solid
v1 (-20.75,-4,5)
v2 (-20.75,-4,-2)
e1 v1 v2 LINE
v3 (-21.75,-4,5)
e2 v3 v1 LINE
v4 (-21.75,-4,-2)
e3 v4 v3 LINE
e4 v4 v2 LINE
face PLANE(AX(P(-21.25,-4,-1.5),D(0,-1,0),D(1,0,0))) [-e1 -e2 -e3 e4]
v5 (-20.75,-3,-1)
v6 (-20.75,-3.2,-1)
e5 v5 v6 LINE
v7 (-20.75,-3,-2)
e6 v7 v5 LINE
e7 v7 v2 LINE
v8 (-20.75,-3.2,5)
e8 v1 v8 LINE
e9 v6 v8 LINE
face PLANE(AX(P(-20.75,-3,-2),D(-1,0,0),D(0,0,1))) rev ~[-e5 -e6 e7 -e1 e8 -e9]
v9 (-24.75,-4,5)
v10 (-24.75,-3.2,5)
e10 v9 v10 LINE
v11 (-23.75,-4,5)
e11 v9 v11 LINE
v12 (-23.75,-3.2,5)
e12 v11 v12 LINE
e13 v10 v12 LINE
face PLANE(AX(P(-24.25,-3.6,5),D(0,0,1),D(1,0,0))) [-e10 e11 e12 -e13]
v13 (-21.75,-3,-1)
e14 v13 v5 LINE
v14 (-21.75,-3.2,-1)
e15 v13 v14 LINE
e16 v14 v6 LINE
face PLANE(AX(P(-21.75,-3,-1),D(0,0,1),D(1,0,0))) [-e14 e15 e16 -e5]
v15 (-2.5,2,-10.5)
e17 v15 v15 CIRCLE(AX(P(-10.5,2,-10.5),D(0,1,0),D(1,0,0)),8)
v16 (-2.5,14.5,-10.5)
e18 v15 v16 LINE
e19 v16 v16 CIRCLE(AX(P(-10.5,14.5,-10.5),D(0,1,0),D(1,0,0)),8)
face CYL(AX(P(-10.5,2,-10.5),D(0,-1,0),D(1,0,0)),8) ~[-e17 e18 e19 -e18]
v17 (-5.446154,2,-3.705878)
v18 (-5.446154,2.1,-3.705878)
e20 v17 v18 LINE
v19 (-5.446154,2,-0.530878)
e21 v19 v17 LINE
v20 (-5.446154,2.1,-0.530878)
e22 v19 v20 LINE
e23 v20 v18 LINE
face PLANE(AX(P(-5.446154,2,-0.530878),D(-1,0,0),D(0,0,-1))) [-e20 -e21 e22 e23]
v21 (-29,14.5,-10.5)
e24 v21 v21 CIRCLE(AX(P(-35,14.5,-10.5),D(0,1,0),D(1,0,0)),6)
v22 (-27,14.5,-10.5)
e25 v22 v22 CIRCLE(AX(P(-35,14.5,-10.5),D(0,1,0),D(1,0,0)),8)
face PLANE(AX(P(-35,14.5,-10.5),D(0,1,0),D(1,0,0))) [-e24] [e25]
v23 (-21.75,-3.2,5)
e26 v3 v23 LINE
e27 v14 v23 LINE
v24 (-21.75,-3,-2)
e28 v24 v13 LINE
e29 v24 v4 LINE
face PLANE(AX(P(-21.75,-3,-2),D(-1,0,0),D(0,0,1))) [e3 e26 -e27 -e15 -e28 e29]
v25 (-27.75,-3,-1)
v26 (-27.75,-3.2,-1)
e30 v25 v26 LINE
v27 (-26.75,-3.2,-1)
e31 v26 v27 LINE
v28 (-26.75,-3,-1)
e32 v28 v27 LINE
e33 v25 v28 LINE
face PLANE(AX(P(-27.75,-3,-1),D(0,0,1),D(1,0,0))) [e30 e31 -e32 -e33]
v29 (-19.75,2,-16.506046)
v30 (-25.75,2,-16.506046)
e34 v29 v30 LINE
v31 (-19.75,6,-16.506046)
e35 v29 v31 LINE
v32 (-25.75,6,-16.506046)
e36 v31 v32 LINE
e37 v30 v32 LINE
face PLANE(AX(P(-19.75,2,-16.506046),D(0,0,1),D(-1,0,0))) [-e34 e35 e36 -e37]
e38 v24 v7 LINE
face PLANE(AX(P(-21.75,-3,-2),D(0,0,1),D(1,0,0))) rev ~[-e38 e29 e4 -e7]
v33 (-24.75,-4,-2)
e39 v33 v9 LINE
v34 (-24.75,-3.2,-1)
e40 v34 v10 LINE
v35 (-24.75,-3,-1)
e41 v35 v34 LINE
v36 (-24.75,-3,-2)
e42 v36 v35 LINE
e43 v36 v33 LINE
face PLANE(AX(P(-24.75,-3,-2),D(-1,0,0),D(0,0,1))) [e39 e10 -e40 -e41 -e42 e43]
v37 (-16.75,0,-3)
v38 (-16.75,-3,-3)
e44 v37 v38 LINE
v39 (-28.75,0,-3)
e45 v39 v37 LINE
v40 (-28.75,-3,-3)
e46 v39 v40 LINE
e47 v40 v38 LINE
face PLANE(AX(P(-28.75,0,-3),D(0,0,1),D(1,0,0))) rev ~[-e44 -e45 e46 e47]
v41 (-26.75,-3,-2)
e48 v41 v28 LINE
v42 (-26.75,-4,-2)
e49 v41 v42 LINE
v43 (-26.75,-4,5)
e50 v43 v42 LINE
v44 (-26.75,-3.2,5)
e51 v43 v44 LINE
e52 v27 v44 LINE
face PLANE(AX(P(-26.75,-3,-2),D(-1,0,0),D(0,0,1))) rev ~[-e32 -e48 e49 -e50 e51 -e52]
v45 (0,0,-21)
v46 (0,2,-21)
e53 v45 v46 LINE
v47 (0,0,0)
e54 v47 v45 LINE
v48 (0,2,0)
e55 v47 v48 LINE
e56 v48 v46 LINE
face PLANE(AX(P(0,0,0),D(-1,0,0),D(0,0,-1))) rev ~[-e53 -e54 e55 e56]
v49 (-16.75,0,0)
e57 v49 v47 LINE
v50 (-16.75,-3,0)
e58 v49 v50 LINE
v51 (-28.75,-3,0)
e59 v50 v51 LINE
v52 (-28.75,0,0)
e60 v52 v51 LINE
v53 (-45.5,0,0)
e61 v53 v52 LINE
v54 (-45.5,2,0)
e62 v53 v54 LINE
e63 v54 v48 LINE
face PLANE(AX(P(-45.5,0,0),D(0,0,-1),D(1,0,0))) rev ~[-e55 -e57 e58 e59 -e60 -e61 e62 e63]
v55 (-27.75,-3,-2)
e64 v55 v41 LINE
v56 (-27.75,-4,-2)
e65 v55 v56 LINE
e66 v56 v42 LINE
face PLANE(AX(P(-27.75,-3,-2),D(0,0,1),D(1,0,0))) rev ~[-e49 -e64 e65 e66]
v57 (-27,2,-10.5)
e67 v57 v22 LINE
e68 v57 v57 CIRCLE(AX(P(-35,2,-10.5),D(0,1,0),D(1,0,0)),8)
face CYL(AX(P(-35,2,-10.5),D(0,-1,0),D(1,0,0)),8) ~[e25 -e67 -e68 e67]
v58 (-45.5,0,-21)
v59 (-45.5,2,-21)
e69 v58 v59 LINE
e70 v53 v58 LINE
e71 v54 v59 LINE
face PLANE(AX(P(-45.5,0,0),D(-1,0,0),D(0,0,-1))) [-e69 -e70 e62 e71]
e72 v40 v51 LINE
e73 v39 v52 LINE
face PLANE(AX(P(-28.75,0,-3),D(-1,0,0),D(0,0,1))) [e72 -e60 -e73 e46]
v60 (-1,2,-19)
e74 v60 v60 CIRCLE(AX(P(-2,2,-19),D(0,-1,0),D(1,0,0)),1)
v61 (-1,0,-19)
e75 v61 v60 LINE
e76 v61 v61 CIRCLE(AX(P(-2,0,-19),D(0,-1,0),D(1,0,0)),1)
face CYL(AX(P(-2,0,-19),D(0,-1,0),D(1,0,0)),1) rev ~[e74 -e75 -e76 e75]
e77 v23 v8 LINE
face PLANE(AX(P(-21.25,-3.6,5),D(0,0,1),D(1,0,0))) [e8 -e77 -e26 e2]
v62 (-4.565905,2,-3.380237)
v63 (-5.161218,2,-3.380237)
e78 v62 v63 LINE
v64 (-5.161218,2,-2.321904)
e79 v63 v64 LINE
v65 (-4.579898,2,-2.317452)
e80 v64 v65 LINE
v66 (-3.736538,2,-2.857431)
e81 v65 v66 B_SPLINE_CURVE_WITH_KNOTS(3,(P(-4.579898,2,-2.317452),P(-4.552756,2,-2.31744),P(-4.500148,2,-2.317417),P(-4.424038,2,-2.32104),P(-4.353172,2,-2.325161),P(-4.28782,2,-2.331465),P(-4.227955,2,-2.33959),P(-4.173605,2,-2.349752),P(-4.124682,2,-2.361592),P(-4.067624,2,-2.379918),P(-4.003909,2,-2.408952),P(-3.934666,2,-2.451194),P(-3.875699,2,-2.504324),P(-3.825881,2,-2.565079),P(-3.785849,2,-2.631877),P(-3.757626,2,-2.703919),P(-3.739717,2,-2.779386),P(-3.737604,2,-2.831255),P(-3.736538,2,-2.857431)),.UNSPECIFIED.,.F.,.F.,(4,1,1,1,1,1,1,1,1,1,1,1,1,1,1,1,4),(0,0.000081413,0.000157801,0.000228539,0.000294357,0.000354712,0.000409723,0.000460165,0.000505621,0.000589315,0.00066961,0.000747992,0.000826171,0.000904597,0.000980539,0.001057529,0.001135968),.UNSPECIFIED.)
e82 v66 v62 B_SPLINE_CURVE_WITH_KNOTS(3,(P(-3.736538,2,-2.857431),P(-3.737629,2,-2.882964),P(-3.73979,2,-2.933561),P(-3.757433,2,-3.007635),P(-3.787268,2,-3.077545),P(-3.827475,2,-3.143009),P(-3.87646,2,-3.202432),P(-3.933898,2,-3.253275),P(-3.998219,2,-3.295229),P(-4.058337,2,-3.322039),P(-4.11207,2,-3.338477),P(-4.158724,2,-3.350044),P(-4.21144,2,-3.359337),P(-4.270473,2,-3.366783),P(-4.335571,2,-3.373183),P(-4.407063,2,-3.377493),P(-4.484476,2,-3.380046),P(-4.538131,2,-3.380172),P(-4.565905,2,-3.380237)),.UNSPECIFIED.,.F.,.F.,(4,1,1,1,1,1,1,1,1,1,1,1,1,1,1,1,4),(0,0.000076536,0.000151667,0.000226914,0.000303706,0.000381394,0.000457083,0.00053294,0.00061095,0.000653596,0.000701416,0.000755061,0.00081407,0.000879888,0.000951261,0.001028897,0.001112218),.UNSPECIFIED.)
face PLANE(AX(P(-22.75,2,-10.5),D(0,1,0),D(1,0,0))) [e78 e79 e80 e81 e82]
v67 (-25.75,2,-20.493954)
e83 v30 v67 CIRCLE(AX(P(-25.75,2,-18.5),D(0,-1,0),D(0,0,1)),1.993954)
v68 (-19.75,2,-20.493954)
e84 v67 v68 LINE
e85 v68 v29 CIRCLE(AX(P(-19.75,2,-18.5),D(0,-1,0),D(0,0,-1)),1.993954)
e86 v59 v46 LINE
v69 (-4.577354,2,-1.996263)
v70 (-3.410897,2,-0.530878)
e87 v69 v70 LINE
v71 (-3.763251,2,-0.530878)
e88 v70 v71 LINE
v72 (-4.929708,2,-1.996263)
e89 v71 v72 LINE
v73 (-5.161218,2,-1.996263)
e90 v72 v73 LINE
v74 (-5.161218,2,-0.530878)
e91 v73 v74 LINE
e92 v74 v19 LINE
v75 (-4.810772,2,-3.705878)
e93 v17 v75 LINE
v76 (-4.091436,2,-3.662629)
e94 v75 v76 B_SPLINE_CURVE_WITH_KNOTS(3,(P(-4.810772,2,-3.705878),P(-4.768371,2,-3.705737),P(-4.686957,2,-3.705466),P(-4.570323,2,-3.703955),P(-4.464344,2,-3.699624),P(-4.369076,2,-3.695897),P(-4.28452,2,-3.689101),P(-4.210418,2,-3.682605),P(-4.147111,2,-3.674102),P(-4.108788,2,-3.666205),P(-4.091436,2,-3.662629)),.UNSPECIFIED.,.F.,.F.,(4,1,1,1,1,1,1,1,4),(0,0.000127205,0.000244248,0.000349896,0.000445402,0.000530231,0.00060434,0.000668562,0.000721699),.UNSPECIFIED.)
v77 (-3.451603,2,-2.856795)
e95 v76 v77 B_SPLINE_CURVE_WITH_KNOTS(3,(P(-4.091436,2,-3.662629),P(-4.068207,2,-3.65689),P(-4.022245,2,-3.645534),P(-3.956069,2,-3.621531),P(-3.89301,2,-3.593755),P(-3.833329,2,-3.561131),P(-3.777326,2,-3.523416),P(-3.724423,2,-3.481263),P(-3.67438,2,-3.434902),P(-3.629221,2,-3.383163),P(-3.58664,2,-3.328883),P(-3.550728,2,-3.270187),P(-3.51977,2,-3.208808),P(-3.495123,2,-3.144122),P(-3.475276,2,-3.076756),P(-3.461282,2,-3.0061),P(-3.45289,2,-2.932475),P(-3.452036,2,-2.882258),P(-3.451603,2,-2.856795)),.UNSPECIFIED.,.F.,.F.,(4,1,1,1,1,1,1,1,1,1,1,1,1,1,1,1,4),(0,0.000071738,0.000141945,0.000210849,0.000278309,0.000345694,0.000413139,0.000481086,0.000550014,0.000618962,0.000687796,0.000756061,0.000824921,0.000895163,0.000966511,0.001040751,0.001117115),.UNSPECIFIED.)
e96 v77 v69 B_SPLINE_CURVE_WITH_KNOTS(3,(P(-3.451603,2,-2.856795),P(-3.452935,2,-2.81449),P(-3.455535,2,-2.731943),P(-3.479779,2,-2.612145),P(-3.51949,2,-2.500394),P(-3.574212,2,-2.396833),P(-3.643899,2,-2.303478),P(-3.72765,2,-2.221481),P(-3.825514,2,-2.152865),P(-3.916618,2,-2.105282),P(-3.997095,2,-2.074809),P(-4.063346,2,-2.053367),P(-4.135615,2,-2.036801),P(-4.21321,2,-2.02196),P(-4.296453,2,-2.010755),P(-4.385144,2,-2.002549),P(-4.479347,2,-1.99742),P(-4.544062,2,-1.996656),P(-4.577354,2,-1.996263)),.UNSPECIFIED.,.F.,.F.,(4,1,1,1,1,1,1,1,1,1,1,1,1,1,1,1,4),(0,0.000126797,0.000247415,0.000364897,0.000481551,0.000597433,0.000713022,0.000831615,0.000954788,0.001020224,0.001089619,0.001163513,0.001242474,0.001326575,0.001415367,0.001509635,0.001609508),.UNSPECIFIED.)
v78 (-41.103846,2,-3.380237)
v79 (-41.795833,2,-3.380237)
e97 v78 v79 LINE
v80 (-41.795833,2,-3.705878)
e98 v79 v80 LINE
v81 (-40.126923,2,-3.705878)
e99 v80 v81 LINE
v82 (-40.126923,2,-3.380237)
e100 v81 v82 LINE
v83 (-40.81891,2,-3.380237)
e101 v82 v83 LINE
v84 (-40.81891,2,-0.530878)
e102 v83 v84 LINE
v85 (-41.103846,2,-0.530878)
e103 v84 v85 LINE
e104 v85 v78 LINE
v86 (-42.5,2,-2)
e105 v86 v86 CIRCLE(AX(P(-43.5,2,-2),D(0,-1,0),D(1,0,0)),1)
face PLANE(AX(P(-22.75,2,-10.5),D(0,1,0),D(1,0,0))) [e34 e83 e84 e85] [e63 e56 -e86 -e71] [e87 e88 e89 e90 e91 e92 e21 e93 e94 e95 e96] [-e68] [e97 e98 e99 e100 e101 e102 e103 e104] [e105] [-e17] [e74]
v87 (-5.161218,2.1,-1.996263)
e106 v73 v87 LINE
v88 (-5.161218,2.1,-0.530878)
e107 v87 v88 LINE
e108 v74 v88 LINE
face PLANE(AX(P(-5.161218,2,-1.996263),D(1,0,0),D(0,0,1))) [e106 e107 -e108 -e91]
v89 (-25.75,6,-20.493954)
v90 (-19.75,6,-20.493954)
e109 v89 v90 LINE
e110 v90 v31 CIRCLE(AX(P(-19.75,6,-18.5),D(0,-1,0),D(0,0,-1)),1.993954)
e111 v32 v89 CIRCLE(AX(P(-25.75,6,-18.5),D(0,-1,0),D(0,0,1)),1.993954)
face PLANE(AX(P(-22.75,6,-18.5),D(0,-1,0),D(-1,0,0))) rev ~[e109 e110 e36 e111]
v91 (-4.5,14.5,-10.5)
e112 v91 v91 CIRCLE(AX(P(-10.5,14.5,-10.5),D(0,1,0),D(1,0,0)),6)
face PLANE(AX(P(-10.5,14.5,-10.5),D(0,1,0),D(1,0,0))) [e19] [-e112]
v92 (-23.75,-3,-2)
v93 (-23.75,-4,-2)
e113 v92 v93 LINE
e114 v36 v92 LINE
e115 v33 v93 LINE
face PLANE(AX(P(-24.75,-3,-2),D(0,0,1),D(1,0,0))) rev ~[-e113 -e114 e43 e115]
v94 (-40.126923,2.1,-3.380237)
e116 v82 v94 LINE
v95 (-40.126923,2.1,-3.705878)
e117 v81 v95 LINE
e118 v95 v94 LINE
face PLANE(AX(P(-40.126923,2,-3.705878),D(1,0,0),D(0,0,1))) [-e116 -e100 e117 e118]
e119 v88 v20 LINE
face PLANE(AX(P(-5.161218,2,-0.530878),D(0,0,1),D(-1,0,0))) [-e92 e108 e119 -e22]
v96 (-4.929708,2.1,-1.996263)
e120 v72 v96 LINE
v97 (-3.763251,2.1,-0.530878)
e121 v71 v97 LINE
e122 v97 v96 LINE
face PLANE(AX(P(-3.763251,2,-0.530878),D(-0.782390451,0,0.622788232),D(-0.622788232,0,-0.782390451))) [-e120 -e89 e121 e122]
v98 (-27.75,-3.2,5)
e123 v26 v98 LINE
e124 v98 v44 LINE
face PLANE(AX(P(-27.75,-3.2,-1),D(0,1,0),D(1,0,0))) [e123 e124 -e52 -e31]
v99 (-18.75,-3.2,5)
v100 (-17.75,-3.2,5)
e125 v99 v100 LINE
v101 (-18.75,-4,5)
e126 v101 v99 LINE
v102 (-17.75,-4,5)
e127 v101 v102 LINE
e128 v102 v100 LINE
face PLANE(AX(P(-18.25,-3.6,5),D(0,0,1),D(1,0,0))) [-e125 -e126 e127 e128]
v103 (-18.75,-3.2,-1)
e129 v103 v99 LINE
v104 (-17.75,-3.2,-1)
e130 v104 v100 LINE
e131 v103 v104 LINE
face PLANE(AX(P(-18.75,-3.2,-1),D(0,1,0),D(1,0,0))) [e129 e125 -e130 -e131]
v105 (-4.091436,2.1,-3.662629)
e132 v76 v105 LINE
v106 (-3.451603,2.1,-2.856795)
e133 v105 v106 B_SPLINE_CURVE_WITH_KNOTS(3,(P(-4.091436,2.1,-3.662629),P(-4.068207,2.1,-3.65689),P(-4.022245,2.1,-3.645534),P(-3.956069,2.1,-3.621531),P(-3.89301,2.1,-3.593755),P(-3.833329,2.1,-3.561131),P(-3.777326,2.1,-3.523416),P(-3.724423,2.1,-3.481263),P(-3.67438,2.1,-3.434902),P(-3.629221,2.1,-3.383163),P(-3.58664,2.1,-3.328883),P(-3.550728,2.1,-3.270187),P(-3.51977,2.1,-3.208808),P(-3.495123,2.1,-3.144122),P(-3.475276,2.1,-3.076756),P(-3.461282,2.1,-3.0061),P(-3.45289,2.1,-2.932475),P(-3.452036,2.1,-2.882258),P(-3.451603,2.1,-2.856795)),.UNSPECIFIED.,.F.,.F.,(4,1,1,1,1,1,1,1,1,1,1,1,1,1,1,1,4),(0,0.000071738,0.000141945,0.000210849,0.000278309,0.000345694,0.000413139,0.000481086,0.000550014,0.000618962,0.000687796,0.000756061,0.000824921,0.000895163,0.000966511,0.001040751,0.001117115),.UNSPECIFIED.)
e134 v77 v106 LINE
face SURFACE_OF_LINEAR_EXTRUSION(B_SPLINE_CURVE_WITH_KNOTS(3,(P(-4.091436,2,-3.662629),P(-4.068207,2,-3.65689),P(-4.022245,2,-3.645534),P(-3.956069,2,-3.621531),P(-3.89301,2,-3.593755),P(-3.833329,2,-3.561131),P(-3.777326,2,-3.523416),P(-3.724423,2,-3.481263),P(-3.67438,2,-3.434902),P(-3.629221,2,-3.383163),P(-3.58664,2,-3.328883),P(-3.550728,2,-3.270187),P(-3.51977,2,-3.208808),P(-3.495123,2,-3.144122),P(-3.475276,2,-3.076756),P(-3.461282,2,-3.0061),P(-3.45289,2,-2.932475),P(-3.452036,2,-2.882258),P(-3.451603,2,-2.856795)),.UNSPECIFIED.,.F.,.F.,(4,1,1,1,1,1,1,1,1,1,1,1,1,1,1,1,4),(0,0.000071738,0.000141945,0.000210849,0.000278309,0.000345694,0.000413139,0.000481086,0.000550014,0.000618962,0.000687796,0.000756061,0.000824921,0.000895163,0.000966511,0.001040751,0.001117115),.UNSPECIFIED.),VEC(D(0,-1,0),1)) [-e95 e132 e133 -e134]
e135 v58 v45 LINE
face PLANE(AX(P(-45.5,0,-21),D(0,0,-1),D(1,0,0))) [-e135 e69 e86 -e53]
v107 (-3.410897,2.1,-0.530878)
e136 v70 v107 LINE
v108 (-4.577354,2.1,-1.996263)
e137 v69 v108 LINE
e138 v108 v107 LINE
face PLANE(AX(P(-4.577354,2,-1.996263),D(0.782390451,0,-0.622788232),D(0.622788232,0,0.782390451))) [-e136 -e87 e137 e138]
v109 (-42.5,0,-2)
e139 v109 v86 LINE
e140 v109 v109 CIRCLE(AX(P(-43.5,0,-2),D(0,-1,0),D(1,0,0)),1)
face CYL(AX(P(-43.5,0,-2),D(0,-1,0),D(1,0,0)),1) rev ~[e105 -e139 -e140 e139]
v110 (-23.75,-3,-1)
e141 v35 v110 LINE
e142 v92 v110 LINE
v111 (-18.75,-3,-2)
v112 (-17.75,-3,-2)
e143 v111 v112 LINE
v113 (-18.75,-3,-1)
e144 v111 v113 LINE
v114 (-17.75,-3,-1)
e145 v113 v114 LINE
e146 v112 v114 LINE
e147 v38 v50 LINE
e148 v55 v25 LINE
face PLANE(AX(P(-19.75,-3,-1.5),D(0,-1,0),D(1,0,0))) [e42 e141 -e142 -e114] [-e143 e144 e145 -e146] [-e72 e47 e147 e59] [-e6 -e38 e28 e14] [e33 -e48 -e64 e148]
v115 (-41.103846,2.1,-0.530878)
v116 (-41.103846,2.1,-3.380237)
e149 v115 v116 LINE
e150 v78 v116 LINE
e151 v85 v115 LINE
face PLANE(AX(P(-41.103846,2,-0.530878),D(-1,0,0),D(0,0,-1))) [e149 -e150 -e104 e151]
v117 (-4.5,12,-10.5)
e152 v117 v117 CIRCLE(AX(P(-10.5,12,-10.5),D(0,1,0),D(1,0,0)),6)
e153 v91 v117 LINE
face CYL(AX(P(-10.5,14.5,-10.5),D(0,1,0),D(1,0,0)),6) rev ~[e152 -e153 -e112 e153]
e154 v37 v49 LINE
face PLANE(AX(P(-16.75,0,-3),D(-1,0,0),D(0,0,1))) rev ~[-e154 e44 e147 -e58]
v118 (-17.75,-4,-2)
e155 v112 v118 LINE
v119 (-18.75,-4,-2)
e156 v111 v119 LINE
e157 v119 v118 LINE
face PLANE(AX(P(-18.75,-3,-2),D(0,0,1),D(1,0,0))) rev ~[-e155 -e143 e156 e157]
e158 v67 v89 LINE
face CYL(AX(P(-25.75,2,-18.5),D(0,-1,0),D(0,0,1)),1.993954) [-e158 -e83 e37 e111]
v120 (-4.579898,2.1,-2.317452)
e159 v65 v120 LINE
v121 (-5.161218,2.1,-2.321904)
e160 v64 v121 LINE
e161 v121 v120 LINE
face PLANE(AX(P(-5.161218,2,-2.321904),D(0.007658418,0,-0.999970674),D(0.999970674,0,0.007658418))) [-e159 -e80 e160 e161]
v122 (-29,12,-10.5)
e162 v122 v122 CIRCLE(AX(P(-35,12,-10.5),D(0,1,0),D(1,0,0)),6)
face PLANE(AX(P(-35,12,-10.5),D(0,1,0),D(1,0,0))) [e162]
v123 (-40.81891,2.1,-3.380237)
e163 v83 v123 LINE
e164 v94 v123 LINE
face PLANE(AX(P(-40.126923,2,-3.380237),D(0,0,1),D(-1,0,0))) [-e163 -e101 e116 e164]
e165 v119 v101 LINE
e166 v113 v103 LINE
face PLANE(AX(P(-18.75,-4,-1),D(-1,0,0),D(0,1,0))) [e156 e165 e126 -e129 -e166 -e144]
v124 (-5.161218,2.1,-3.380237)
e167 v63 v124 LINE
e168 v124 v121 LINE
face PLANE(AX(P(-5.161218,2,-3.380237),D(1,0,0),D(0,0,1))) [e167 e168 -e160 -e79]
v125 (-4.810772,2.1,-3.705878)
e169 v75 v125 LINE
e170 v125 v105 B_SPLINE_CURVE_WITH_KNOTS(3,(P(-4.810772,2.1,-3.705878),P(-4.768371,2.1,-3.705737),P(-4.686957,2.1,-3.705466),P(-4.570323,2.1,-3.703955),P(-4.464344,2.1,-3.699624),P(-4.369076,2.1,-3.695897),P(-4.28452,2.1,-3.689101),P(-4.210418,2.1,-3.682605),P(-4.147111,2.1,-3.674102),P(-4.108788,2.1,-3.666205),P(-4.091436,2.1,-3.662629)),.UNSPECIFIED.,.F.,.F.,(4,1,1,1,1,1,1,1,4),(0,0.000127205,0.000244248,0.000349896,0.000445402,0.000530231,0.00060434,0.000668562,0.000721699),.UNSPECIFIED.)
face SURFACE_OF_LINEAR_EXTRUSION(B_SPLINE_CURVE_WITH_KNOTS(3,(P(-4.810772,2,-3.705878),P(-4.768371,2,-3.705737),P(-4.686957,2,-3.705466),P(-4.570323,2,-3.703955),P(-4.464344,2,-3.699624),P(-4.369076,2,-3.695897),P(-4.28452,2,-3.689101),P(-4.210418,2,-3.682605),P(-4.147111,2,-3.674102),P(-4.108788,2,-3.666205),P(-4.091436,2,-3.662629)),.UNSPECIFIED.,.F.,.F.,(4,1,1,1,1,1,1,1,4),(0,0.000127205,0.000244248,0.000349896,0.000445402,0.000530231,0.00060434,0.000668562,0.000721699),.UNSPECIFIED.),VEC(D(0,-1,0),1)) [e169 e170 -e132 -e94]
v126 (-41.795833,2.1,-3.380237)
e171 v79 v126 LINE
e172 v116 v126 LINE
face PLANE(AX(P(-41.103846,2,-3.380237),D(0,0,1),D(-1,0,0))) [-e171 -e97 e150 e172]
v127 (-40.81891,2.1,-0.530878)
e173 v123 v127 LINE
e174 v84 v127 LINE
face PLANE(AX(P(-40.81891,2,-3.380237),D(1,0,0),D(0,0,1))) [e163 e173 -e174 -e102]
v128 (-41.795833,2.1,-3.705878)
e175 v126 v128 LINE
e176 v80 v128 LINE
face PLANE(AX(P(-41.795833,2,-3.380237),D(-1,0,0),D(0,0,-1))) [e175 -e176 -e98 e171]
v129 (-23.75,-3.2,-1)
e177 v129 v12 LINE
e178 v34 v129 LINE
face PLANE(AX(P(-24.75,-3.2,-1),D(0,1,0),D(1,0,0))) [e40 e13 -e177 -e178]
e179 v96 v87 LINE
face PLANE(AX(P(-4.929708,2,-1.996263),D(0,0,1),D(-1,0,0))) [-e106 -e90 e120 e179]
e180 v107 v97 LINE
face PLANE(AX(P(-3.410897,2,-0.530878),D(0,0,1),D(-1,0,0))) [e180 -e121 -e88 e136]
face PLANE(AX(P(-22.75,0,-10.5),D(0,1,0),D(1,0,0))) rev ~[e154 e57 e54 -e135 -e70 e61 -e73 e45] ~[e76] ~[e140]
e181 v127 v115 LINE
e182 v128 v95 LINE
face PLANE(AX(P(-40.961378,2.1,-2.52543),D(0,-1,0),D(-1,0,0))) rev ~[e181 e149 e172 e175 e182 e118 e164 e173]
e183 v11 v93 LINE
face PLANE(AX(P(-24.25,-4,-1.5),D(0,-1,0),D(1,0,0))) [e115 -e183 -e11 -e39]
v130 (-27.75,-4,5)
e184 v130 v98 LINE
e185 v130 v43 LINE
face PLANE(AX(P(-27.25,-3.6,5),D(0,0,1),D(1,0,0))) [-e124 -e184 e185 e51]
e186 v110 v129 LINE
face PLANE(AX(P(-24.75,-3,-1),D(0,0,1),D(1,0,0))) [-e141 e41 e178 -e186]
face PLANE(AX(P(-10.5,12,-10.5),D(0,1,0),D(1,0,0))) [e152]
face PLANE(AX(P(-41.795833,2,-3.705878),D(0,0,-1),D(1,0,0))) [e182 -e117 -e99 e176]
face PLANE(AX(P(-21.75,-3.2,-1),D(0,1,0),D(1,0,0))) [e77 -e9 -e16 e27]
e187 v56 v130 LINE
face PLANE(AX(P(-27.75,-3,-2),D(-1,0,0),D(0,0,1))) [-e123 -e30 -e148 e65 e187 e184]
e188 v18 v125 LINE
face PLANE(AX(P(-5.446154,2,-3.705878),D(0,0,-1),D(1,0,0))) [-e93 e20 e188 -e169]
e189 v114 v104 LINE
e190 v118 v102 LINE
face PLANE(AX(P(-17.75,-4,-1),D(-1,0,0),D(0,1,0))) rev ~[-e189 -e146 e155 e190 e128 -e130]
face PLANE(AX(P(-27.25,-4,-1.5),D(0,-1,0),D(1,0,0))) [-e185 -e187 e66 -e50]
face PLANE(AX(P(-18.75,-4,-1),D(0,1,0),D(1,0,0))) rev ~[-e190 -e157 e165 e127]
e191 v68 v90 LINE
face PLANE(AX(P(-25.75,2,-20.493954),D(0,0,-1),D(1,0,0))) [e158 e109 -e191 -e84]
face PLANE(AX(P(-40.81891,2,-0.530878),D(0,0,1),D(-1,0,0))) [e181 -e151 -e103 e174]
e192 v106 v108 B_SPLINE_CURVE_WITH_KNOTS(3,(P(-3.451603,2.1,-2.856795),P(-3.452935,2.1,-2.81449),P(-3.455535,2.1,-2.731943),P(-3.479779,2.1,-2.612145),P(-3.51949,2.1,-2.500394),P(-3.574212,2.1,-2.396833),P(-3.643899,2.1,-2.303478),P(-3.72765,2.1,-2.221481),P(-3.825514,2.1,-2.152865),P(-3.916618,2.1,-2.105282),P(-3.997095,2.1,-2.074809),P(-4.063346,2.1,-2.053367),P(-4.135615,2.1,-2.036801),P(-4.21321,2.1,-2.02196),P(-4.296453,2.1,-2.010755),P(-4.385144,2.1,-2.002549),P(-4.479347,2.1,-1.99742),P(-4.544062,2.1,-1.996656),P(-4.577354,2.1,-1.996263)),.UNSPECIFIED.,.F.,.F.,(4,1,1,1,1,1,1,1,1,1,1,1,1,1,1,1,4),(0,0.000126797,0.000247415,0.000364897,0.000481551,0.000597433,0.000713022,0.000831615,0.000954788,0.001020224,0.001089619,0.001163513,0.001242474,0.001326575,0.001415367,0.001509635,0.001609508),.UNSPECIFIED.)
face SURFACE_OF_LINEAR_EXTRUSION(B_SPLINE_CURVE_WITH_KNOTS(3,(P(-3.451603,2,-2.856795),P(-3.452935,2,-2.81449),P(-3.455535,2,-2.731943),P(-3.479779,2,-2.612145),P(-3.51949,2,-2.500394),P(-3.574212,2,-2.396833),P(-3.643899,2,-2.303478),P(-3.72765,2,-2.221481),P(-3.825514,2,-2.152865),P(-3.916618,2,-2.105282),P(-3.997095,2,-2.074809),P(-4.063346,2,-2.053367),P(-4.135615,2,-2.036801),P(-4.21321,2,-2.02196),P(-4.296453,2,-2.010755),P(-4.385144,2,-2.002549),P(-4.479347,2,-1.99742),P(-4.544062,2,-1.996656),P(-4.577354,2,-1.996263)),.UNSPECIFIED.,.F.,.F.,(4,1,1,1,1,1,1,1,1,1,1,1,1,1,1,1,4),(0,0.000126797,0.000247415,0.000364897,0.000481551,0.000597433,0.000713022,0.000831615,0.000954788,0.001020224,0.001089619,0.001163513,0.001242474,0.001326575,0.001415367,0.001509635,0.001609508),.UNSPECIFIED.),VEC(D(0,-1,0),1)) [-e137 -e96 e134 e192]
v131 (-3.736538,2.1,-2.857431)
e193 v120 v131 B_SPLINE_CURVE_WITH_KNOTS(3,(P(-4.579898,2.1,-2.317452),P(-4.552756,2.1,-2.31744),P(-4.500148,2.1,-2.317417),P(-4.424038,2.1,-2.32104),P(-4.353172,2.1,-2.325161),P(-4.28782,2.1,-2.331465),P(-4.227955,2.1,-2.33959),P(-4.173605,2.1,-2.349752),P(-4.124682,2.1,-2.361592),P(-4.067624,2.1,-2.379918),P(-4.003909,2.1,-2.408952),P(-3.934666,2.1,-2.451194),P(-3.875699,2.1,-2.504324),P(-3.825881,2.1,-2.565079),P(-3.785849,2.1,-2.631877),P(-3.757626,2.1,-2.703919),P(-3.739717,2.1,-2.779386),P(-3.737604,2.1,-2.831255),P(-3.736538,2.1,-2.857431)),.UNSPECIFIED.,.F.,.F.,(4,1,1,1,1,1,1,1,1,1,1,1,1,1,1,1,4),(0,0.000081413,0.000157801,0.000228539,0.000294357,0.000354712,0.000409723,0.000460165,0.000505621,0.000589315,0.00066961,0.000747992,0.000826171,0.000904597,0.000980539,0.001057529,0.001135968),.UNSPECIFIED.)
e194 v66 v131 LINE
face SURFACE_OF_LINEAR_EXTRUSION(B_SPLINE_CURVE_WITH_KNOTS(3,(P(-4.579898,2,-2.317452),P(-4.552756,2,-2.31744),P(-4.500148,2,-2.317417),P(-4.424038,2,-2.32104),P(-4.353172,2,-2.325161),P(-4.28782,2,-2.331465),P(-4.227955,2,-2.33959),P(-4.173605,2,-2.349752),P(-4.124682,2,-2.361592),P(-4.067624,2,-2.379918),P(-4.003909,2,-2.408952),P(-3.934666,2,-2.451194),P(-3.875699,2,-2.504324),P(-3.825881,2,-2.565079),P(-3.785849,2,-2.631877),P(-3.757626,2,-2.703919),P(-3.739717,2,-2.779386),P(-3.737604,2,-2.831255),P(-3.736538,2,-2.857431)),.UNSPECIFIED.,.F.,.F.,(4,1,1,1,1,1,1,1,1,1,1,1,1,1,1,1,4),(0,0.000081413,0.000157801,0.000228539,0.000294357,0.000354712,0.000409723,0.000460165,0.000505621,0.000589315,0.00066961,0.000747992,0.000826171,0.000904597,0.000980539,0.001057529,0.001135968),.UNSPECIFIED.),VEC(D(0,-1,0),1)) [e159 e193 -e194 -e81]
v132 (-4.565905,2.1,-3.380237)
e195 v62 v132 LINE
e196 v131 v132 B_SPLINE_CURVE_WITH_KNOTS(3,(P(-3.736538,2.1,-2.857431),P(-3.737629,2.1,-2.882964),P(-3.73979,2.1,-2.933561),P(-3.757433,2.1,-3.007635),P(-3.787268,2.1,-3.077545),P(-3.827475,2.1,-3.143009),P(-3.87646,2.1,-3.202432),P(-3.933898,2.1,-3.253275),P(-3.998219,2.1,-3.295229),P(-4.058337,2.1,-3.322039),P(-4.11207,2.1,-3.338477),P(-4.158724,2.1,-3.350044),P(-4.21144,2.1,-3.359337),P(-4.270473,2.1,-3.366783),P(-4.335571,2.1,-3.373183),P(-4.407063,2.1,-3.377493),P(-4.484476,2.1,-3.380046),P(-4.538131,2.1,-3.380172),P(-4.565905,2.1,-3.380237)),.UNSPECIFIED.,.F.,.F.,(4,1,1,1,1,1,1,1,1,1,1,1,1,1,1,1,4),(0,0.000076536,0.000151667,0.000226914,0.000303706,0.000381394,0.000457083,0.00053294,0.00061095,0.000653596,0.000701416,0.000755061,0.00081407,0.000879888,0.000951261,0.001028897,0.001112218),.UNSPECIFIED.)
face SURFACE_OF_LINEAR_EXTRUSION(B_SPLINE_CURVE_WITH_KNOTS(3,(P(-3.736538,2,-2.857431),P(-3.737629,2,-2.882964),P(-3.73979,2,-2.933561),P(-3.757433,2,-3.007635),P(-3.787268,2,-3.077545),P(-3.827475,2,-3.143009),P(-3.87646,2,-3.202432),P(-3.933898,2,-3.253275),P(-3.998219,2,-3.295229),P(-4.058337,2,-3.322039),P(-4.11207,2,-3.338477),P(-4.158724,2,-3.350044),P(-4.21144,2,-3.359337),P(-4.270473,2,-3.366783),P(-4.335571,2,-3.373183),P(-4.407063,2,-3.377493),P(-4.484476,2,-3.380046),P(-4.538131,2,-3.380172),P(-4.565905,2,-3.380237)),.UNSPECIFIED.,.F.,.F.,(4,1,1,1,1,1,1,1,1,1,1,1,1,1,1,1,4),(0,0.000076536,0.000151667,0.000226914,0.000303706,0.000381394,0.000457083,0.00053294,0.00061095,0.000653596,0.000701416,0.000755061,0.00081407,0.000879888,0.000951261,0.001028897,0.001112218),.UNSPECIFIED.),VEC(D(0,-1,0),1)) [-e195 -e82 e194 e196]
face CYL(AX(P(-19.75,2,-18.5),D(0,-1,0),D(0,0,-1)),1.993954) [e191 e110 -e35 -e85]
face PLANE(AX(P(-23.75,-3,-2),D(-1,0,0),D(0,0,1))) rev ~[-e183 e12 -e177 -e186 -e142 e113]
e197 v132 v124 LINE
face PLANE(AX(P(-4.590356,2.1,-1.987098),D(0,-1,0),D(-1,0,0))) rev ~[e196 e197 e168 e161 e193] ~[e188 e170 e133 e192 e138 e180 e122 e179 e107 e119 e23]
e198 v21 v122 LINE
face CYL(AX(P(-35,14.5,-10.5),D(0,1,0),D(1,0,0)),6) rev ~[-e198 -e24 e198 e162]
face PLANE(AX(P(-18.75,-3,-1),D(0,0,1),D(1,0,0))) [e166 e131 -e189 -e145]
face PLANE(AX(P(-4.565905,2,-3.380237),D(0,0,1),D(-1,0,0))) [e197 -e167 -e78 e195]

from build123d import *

# Parameters (mm, degrees)
SKETCH2_W            = 45.5
SKETCH2_H            = 21
BOSS_EXTRUDE2_DEPTH  = 2
SKETCH4_R            = 8
BOSS_EXTRUDE3_DEPTH  = 12.5
SKETCH5_R            = 6
CUT_EXTRUDE1_DEPTH   = 2.5
BOSS_EXTRUDE5_DEPTH  = 4
SKETCH7_W            = 6
SKETCH7_H            = 3
BOSS_EXTRUDE6_DEPTH  = 3
SKETCH8_W            = 1
SKETCH8_H            = 1
BOSS_EXTRUDE7_DEPTH  = 1
SKETCH10_W           = 1
SKETCH10_H           = 0.8
BOSS_EXTRUDE8_DEPTH  = 6
SKETCH11_R           = 1
CUT_EXTRUDE2_DEPTH   = 15.5
BOSS_EXTRUDE10_DEPTH = 0.1


with BuildPart() as part:
    # Sketch2 → Boss-Extrude2 (new body)
    with BuildSketch(Plane(origin=(0, 0, 0), x_dir=(1, 0, 0), z_dir=(0, 1, 0))):
        with Locations((-22.75, 10.5)):
            Rectangle(SKETCH2_W, SKETCH2_H)
    extrude(amount=BOSS_EXTRUDE2_DEPTH)

    # Sketch4 → Boss-Extrude3 (add)
    with BuildSketch(Plane(origin=(0, 2, 0), x_dir=(1, 0, 0), z_dir=(0, 1, 0))):
        with Locations((-35, 10.5)):
            Circle(SKETCH4_R)
        with Locations((-10.5, 10.5)):
            Circle(SKETCH4_R)
    extrude(amount=BOSS_EXTRUDE3_DEPTH)

    # Sketch5 → Cut-Extrude1 (cut)
    with BuildSketch(Plane(origin=(0, 14.5, 0), x_dir=(1, 0, 0), z_dir=(0, 1, 0))):
        with Locations((-35, 10.5)):
            Circle(SKETCH5_R)
        with Locations((-10.5, 10.5)):
            Circle(SKETCH5_R)
    extrude(amount=-CUT_EXTRUDE1_DEPTH, mode=Mode.SUBTRACT)

    # Sketch6 → Boss-Extrude5 (add)
    with BuildSketch(Plane(origin=(0, 2, 0), x_dir=(1, 0, 0), z_dir=(0, 1, 0))):
        with BuildLine():
            Line((-25.75, 20.493953902), (-19.75, 20.493953902))
            ThreePointArc((-19.75, 20.493953902), (-17.756046098, 18.5), (-19.75, 16.506046098))
            Line((-19.75, 16.506046098), (-25.75, 16.506046098))
            ThreePointArc((-25.75, 16.506046098), (-27.743953902, 18.5), (-25.75, 20.493953902))
        make_face()
    extrude(amount=BOSS_EXTRUDE5_DEPTH)

    # Sketch7 → Boss-Extrude6 (add)
    with BuildSketch(Plane.XZ):
        with Locations((-19.75, -1.5)):
            Rectangle(SKETCH7_W, SKETCH7_H)
        with Locations((-25.75, -1.5)):
            Rectangle(SKETCH7_W, SKETCH7_H)
    extrude(amount=BOSS_EXTRUDE6_DEPTH)

    # Sketch8 → Boss-Extrude7 (add)
    with BuildSketch(Plane.XZ.offset(3)):
        with Locations((-24.25, -1.5)):
            Rectangle(SKETCH8_W, SKETCH8_H)
        with Locations((-21.25, -1.5)):
            Rectangle(SKETCH8_W, SKETCH8_H)
        with Locations((-18.25, -1.5)):
            Rectangle(SKETCH8_W, SKETCH8_H)
        with Locations((-27.25, -1.5)):
            Rectangle(SKETCH8_W, SKETCH8_H)
    extrude(amount=BOSS_EXTRUDE7_DEPTH)

    # Sketch10 → Boss-Extrude8 (add)
    with BuildSketch(Plane.XY.offset(-1)):
        with Locations((-18.25, -3.6)):
            Rectangle(SKETCH10_W, SKETCH10_H)
        with Locations((-21.25, -3.6)):
            Rectangle(SKETCH10_W, SKETCH10_H)
        with Locations((-24.25, -3.6)):
            Rectangle(SKETCH10_W, SKETCH10_H)
        with Locations((-27.25, -3.6)):
            Rectangle(SKETCH10_W, SKETCH10_H)
    extrude(amount=BOSS_EXTRUDE8_DEPTH)

    # Sketch11 → Cut-Extrude2 (cut, through all)
    with BuildSketch(Plane.XZ):
        with Locations((-2, -19)):
            Circle(SKETCH11_R)
        with Locations((-43.5, -2)):
            Circle(SKETCH11_R)
    extrude(amount=-CUT_EXTRUDE2_DEPTH, mode=Mode.SUBTRACT)

    # Sketch15 → Boss-Extrude10 (add)
    with BuildSketch(Plane(origin=(0, 2, 0), x_dir=(1, 0, 0), z_dir=(0, 1, 0))):
        Polygon((-41.795833333, 3.38023745), (-41.795833333, 3.705878476), (-40.126923077, 3.705878476), (-40.126923077, 3.38023745), (-40.818910256, 3.38023745), (-40.818910256, 0.530878476), (-41.103846154, 0.530878476), (-41.103846154, 3.38023745), align=None)
        with BuildLine():
            Line((-5.446153846, 3.705878476), (-4.810772236, 3.705878476))
            add(Edge.make_bspline(
                [(-4.810772236, 3.705878476), (-4.768371355, 3.705737337), (-4.686956967, 3.705466335), (-4.570322643, 3.70395525), (-4.464343776, 3.699624228), (-4.369075779, 3.695897155), (-4.284520399, 3.689100894), (-4.210418357, 3.682605164), (-4.147110946, 3.674101915), (-4.108787923, 3.666204853), (-4.091436298, 3.662629277)],
                knots=[0, 0, 0, 0, 0.000127205, 0.000244248, 0.000349896, 0.000445402, 0.000530231, 0.00060434, 0.000668562, 0.000721699, 0.000721699, 0.000721699, 0.000721699], degree=3))
            add(Edge.make_bspline(
                [(-4.091436298, 3.662629277), (-4.068207432, 3.656889997), (-4.022245234, 3.645533872), (-3.956069103, 3.621531234), (-3.893009681, 3.59375486), (-3.833328911, 3.561130628), (-3.777325729, 3.523416363), (-3.72442269, 3.481263138), (-3.674379734, 3.434901601), (-3.629220684, 3.383162852), (-3.586640258, 3.32888259), (-3.550727719, 3.270187039), (-3.519770126, 3.208808368), (-3.495122586, 3.144122353), (-3.475276139, 3.076756317), (-3.461282336, 3.006100052), (-3.452890187, 2.932475453), (-3.452035789, 2.882257921), (-3.451602564, 2.856794942)],
                knots=[0, 0, 0, 0, 7.1738e-05, 0.000141945, 0.000210849, 0.000278309, 0.000345694, 0.000413139, 0.000481086, 0.000550014, 0.000618962, 0.000687796, 0.000756061, 0.000824921, 0.000895163, 0.000966511, 0.001040751, 0.001117115, 0.001117115, 0.001117115, 0.001117115], degree=3))
            add(Edge.make_bspline(
                [(-3.451602564, 2.856794942), (-3.452935155, 2.81449024), (-3.455535386, 2.731942809), (-3.479778873, 2.612144724), (-3.51949043, 2.500394417), (-3.574212271, 2.396832596), (-3.643898509, 2.303477939), (-3.727650284, 2.221480883), (-3.825514317, 2.152864676), (-3.916618054, 2.105282489), (-3.997094506, 2.074808922), (-4.063346155, 2.053367368), (-4.135615484, 2.036801157), (-4.213210066, 2.02196018), (-4.296452811, 2.010755429), (-4.385144204, 2.002548875), (-4.479347498, 1.997419845), (-4.544062226, 1.996656027), (-4.577353766, 1.996263091)],
                knots=[0, 0, 0, 0, 0.000126797, 0.000247415, 0.000364897, 0.000481551, 0.000597433, 0.000713022, 0.000831615, 0.000954788, 0.001020224, 0.001089619, 0.001163513, 0.001242474, 0.001326575, 0.001415367, 0.001509635, 0.001609508, 0.001609508, 0.001609508, 0.001609508], degree=3))
            Line((-4.577353766, 1.996263091), (-3.410897436, 0.530878476))
            Line((-3.410897436, 0.530878476), (-3.763251202, 0.530878476))
            Line((-3.763251202, 0.530878476), (-4.929707532, 1.996263091))
            Line((-4.929707532, 1.996263091), (-5.161217949, 1.996263091))
            Line((-5.161217949, 1.996263091), (-5.161217949, 0.530878476))
            Line((-5.161217949, 0.530878476), (-5.446153846, 0.530878476))
            Line((-5.446153846, 0.530878476), (-5.446153846, 3.705878476))
        make_face()
        with BuildLine():
            Line((-5.161217949, 3.38023745), (-5.161217949, 2.321904117))
            Line((-5.161217949, 2.321904117), (-4.579897837, 2.317451994))
            add(Edge.make_bspline(
                [(-4.579897837, 2.317451994), (-4.552756087, 2.317439986), (-4.500147646, 2.317416712), (-4.424037757, 2.321039638), (-4.353171656, 2.325161076), (-4.287820402, 2.331465125), (-4.227954802, 2.339589562), (-4.173604777, 2.349752269), (-4.124681608, 2.361592354), (-4.067623648, 2.379918115), (-4.003909081, 2.408952146), (-3.934665542, 2.451193705), (-3.875699136, 2.504324263), (-3.825880789, 2.565078756), (-3.785849091, 2.631877353), (-3.757626013, 2.703919345), (-3.739716797, 2.779386009), (-3.737604474, 2.831254721), (-3.736538462, 2.85743096)],
                knots=[0, 0, 0, 0, 8.1413e-05, 0.000157801, 0.000228539, 0.000294357, 0.000354712, 0.000409723, 0.000460165, 0.000505621, 0.000589315, 0.00066961, 0.000747992, 0.000826171, 0.000904597, 0.000980539, 0.001057529, 0.001135968, 0.001135968, 0.001135968, 0.001135968], degree=3))
            add(Edge.make_bspline(
                [(-3.736538462, 2.85743096), (-3.737628957, 2.882963923), (-3.739789921, 2.93356094), (-3.757432733, 3.007634515), (-3.7872681, 3.077545249), (-3.827474702, 3.143008746), (-3.876459649, 3.202431806), (-3.933897951, 3.253274581), (-3.998219092, 3.295229452), (-4.058336537, 3.322039498), (-4.112070429, 3.338476793), (-4.158724478, 3.35004392), (-4.21143989, 3.359337117), (-4.270472627, 3.366783001), (-4.335570678, 3.373182843), (-4.407063197, 3.377493385), (-4.484475848, 3.380045962), (-4.538130564, 3.380172135), (-4.565905449, 3.38023745)],
                knots=[0, 0, 0, 0, 7.6536e-05, 0.000151667, 0.000226914, 0.000303706, 0.000381394, 0.000457083, 0.00053294, 0.00061095, 0.000653596, 0.000701416, 0.000755061, 0.00081407, 0.000879888, 0.000951261, 0.001028897, 0.001112218, 0.001112218, 0.001112218, 0.001112218], degree=3))
            Line((-4.565905449, 3.38023745), (-5.161217949, 3.38023745))
        make_face(mode=Mode.SUBTRACT)
    extrude(amount=BOSS_EXTRUDE10_DEPTH)


solid = part.part
